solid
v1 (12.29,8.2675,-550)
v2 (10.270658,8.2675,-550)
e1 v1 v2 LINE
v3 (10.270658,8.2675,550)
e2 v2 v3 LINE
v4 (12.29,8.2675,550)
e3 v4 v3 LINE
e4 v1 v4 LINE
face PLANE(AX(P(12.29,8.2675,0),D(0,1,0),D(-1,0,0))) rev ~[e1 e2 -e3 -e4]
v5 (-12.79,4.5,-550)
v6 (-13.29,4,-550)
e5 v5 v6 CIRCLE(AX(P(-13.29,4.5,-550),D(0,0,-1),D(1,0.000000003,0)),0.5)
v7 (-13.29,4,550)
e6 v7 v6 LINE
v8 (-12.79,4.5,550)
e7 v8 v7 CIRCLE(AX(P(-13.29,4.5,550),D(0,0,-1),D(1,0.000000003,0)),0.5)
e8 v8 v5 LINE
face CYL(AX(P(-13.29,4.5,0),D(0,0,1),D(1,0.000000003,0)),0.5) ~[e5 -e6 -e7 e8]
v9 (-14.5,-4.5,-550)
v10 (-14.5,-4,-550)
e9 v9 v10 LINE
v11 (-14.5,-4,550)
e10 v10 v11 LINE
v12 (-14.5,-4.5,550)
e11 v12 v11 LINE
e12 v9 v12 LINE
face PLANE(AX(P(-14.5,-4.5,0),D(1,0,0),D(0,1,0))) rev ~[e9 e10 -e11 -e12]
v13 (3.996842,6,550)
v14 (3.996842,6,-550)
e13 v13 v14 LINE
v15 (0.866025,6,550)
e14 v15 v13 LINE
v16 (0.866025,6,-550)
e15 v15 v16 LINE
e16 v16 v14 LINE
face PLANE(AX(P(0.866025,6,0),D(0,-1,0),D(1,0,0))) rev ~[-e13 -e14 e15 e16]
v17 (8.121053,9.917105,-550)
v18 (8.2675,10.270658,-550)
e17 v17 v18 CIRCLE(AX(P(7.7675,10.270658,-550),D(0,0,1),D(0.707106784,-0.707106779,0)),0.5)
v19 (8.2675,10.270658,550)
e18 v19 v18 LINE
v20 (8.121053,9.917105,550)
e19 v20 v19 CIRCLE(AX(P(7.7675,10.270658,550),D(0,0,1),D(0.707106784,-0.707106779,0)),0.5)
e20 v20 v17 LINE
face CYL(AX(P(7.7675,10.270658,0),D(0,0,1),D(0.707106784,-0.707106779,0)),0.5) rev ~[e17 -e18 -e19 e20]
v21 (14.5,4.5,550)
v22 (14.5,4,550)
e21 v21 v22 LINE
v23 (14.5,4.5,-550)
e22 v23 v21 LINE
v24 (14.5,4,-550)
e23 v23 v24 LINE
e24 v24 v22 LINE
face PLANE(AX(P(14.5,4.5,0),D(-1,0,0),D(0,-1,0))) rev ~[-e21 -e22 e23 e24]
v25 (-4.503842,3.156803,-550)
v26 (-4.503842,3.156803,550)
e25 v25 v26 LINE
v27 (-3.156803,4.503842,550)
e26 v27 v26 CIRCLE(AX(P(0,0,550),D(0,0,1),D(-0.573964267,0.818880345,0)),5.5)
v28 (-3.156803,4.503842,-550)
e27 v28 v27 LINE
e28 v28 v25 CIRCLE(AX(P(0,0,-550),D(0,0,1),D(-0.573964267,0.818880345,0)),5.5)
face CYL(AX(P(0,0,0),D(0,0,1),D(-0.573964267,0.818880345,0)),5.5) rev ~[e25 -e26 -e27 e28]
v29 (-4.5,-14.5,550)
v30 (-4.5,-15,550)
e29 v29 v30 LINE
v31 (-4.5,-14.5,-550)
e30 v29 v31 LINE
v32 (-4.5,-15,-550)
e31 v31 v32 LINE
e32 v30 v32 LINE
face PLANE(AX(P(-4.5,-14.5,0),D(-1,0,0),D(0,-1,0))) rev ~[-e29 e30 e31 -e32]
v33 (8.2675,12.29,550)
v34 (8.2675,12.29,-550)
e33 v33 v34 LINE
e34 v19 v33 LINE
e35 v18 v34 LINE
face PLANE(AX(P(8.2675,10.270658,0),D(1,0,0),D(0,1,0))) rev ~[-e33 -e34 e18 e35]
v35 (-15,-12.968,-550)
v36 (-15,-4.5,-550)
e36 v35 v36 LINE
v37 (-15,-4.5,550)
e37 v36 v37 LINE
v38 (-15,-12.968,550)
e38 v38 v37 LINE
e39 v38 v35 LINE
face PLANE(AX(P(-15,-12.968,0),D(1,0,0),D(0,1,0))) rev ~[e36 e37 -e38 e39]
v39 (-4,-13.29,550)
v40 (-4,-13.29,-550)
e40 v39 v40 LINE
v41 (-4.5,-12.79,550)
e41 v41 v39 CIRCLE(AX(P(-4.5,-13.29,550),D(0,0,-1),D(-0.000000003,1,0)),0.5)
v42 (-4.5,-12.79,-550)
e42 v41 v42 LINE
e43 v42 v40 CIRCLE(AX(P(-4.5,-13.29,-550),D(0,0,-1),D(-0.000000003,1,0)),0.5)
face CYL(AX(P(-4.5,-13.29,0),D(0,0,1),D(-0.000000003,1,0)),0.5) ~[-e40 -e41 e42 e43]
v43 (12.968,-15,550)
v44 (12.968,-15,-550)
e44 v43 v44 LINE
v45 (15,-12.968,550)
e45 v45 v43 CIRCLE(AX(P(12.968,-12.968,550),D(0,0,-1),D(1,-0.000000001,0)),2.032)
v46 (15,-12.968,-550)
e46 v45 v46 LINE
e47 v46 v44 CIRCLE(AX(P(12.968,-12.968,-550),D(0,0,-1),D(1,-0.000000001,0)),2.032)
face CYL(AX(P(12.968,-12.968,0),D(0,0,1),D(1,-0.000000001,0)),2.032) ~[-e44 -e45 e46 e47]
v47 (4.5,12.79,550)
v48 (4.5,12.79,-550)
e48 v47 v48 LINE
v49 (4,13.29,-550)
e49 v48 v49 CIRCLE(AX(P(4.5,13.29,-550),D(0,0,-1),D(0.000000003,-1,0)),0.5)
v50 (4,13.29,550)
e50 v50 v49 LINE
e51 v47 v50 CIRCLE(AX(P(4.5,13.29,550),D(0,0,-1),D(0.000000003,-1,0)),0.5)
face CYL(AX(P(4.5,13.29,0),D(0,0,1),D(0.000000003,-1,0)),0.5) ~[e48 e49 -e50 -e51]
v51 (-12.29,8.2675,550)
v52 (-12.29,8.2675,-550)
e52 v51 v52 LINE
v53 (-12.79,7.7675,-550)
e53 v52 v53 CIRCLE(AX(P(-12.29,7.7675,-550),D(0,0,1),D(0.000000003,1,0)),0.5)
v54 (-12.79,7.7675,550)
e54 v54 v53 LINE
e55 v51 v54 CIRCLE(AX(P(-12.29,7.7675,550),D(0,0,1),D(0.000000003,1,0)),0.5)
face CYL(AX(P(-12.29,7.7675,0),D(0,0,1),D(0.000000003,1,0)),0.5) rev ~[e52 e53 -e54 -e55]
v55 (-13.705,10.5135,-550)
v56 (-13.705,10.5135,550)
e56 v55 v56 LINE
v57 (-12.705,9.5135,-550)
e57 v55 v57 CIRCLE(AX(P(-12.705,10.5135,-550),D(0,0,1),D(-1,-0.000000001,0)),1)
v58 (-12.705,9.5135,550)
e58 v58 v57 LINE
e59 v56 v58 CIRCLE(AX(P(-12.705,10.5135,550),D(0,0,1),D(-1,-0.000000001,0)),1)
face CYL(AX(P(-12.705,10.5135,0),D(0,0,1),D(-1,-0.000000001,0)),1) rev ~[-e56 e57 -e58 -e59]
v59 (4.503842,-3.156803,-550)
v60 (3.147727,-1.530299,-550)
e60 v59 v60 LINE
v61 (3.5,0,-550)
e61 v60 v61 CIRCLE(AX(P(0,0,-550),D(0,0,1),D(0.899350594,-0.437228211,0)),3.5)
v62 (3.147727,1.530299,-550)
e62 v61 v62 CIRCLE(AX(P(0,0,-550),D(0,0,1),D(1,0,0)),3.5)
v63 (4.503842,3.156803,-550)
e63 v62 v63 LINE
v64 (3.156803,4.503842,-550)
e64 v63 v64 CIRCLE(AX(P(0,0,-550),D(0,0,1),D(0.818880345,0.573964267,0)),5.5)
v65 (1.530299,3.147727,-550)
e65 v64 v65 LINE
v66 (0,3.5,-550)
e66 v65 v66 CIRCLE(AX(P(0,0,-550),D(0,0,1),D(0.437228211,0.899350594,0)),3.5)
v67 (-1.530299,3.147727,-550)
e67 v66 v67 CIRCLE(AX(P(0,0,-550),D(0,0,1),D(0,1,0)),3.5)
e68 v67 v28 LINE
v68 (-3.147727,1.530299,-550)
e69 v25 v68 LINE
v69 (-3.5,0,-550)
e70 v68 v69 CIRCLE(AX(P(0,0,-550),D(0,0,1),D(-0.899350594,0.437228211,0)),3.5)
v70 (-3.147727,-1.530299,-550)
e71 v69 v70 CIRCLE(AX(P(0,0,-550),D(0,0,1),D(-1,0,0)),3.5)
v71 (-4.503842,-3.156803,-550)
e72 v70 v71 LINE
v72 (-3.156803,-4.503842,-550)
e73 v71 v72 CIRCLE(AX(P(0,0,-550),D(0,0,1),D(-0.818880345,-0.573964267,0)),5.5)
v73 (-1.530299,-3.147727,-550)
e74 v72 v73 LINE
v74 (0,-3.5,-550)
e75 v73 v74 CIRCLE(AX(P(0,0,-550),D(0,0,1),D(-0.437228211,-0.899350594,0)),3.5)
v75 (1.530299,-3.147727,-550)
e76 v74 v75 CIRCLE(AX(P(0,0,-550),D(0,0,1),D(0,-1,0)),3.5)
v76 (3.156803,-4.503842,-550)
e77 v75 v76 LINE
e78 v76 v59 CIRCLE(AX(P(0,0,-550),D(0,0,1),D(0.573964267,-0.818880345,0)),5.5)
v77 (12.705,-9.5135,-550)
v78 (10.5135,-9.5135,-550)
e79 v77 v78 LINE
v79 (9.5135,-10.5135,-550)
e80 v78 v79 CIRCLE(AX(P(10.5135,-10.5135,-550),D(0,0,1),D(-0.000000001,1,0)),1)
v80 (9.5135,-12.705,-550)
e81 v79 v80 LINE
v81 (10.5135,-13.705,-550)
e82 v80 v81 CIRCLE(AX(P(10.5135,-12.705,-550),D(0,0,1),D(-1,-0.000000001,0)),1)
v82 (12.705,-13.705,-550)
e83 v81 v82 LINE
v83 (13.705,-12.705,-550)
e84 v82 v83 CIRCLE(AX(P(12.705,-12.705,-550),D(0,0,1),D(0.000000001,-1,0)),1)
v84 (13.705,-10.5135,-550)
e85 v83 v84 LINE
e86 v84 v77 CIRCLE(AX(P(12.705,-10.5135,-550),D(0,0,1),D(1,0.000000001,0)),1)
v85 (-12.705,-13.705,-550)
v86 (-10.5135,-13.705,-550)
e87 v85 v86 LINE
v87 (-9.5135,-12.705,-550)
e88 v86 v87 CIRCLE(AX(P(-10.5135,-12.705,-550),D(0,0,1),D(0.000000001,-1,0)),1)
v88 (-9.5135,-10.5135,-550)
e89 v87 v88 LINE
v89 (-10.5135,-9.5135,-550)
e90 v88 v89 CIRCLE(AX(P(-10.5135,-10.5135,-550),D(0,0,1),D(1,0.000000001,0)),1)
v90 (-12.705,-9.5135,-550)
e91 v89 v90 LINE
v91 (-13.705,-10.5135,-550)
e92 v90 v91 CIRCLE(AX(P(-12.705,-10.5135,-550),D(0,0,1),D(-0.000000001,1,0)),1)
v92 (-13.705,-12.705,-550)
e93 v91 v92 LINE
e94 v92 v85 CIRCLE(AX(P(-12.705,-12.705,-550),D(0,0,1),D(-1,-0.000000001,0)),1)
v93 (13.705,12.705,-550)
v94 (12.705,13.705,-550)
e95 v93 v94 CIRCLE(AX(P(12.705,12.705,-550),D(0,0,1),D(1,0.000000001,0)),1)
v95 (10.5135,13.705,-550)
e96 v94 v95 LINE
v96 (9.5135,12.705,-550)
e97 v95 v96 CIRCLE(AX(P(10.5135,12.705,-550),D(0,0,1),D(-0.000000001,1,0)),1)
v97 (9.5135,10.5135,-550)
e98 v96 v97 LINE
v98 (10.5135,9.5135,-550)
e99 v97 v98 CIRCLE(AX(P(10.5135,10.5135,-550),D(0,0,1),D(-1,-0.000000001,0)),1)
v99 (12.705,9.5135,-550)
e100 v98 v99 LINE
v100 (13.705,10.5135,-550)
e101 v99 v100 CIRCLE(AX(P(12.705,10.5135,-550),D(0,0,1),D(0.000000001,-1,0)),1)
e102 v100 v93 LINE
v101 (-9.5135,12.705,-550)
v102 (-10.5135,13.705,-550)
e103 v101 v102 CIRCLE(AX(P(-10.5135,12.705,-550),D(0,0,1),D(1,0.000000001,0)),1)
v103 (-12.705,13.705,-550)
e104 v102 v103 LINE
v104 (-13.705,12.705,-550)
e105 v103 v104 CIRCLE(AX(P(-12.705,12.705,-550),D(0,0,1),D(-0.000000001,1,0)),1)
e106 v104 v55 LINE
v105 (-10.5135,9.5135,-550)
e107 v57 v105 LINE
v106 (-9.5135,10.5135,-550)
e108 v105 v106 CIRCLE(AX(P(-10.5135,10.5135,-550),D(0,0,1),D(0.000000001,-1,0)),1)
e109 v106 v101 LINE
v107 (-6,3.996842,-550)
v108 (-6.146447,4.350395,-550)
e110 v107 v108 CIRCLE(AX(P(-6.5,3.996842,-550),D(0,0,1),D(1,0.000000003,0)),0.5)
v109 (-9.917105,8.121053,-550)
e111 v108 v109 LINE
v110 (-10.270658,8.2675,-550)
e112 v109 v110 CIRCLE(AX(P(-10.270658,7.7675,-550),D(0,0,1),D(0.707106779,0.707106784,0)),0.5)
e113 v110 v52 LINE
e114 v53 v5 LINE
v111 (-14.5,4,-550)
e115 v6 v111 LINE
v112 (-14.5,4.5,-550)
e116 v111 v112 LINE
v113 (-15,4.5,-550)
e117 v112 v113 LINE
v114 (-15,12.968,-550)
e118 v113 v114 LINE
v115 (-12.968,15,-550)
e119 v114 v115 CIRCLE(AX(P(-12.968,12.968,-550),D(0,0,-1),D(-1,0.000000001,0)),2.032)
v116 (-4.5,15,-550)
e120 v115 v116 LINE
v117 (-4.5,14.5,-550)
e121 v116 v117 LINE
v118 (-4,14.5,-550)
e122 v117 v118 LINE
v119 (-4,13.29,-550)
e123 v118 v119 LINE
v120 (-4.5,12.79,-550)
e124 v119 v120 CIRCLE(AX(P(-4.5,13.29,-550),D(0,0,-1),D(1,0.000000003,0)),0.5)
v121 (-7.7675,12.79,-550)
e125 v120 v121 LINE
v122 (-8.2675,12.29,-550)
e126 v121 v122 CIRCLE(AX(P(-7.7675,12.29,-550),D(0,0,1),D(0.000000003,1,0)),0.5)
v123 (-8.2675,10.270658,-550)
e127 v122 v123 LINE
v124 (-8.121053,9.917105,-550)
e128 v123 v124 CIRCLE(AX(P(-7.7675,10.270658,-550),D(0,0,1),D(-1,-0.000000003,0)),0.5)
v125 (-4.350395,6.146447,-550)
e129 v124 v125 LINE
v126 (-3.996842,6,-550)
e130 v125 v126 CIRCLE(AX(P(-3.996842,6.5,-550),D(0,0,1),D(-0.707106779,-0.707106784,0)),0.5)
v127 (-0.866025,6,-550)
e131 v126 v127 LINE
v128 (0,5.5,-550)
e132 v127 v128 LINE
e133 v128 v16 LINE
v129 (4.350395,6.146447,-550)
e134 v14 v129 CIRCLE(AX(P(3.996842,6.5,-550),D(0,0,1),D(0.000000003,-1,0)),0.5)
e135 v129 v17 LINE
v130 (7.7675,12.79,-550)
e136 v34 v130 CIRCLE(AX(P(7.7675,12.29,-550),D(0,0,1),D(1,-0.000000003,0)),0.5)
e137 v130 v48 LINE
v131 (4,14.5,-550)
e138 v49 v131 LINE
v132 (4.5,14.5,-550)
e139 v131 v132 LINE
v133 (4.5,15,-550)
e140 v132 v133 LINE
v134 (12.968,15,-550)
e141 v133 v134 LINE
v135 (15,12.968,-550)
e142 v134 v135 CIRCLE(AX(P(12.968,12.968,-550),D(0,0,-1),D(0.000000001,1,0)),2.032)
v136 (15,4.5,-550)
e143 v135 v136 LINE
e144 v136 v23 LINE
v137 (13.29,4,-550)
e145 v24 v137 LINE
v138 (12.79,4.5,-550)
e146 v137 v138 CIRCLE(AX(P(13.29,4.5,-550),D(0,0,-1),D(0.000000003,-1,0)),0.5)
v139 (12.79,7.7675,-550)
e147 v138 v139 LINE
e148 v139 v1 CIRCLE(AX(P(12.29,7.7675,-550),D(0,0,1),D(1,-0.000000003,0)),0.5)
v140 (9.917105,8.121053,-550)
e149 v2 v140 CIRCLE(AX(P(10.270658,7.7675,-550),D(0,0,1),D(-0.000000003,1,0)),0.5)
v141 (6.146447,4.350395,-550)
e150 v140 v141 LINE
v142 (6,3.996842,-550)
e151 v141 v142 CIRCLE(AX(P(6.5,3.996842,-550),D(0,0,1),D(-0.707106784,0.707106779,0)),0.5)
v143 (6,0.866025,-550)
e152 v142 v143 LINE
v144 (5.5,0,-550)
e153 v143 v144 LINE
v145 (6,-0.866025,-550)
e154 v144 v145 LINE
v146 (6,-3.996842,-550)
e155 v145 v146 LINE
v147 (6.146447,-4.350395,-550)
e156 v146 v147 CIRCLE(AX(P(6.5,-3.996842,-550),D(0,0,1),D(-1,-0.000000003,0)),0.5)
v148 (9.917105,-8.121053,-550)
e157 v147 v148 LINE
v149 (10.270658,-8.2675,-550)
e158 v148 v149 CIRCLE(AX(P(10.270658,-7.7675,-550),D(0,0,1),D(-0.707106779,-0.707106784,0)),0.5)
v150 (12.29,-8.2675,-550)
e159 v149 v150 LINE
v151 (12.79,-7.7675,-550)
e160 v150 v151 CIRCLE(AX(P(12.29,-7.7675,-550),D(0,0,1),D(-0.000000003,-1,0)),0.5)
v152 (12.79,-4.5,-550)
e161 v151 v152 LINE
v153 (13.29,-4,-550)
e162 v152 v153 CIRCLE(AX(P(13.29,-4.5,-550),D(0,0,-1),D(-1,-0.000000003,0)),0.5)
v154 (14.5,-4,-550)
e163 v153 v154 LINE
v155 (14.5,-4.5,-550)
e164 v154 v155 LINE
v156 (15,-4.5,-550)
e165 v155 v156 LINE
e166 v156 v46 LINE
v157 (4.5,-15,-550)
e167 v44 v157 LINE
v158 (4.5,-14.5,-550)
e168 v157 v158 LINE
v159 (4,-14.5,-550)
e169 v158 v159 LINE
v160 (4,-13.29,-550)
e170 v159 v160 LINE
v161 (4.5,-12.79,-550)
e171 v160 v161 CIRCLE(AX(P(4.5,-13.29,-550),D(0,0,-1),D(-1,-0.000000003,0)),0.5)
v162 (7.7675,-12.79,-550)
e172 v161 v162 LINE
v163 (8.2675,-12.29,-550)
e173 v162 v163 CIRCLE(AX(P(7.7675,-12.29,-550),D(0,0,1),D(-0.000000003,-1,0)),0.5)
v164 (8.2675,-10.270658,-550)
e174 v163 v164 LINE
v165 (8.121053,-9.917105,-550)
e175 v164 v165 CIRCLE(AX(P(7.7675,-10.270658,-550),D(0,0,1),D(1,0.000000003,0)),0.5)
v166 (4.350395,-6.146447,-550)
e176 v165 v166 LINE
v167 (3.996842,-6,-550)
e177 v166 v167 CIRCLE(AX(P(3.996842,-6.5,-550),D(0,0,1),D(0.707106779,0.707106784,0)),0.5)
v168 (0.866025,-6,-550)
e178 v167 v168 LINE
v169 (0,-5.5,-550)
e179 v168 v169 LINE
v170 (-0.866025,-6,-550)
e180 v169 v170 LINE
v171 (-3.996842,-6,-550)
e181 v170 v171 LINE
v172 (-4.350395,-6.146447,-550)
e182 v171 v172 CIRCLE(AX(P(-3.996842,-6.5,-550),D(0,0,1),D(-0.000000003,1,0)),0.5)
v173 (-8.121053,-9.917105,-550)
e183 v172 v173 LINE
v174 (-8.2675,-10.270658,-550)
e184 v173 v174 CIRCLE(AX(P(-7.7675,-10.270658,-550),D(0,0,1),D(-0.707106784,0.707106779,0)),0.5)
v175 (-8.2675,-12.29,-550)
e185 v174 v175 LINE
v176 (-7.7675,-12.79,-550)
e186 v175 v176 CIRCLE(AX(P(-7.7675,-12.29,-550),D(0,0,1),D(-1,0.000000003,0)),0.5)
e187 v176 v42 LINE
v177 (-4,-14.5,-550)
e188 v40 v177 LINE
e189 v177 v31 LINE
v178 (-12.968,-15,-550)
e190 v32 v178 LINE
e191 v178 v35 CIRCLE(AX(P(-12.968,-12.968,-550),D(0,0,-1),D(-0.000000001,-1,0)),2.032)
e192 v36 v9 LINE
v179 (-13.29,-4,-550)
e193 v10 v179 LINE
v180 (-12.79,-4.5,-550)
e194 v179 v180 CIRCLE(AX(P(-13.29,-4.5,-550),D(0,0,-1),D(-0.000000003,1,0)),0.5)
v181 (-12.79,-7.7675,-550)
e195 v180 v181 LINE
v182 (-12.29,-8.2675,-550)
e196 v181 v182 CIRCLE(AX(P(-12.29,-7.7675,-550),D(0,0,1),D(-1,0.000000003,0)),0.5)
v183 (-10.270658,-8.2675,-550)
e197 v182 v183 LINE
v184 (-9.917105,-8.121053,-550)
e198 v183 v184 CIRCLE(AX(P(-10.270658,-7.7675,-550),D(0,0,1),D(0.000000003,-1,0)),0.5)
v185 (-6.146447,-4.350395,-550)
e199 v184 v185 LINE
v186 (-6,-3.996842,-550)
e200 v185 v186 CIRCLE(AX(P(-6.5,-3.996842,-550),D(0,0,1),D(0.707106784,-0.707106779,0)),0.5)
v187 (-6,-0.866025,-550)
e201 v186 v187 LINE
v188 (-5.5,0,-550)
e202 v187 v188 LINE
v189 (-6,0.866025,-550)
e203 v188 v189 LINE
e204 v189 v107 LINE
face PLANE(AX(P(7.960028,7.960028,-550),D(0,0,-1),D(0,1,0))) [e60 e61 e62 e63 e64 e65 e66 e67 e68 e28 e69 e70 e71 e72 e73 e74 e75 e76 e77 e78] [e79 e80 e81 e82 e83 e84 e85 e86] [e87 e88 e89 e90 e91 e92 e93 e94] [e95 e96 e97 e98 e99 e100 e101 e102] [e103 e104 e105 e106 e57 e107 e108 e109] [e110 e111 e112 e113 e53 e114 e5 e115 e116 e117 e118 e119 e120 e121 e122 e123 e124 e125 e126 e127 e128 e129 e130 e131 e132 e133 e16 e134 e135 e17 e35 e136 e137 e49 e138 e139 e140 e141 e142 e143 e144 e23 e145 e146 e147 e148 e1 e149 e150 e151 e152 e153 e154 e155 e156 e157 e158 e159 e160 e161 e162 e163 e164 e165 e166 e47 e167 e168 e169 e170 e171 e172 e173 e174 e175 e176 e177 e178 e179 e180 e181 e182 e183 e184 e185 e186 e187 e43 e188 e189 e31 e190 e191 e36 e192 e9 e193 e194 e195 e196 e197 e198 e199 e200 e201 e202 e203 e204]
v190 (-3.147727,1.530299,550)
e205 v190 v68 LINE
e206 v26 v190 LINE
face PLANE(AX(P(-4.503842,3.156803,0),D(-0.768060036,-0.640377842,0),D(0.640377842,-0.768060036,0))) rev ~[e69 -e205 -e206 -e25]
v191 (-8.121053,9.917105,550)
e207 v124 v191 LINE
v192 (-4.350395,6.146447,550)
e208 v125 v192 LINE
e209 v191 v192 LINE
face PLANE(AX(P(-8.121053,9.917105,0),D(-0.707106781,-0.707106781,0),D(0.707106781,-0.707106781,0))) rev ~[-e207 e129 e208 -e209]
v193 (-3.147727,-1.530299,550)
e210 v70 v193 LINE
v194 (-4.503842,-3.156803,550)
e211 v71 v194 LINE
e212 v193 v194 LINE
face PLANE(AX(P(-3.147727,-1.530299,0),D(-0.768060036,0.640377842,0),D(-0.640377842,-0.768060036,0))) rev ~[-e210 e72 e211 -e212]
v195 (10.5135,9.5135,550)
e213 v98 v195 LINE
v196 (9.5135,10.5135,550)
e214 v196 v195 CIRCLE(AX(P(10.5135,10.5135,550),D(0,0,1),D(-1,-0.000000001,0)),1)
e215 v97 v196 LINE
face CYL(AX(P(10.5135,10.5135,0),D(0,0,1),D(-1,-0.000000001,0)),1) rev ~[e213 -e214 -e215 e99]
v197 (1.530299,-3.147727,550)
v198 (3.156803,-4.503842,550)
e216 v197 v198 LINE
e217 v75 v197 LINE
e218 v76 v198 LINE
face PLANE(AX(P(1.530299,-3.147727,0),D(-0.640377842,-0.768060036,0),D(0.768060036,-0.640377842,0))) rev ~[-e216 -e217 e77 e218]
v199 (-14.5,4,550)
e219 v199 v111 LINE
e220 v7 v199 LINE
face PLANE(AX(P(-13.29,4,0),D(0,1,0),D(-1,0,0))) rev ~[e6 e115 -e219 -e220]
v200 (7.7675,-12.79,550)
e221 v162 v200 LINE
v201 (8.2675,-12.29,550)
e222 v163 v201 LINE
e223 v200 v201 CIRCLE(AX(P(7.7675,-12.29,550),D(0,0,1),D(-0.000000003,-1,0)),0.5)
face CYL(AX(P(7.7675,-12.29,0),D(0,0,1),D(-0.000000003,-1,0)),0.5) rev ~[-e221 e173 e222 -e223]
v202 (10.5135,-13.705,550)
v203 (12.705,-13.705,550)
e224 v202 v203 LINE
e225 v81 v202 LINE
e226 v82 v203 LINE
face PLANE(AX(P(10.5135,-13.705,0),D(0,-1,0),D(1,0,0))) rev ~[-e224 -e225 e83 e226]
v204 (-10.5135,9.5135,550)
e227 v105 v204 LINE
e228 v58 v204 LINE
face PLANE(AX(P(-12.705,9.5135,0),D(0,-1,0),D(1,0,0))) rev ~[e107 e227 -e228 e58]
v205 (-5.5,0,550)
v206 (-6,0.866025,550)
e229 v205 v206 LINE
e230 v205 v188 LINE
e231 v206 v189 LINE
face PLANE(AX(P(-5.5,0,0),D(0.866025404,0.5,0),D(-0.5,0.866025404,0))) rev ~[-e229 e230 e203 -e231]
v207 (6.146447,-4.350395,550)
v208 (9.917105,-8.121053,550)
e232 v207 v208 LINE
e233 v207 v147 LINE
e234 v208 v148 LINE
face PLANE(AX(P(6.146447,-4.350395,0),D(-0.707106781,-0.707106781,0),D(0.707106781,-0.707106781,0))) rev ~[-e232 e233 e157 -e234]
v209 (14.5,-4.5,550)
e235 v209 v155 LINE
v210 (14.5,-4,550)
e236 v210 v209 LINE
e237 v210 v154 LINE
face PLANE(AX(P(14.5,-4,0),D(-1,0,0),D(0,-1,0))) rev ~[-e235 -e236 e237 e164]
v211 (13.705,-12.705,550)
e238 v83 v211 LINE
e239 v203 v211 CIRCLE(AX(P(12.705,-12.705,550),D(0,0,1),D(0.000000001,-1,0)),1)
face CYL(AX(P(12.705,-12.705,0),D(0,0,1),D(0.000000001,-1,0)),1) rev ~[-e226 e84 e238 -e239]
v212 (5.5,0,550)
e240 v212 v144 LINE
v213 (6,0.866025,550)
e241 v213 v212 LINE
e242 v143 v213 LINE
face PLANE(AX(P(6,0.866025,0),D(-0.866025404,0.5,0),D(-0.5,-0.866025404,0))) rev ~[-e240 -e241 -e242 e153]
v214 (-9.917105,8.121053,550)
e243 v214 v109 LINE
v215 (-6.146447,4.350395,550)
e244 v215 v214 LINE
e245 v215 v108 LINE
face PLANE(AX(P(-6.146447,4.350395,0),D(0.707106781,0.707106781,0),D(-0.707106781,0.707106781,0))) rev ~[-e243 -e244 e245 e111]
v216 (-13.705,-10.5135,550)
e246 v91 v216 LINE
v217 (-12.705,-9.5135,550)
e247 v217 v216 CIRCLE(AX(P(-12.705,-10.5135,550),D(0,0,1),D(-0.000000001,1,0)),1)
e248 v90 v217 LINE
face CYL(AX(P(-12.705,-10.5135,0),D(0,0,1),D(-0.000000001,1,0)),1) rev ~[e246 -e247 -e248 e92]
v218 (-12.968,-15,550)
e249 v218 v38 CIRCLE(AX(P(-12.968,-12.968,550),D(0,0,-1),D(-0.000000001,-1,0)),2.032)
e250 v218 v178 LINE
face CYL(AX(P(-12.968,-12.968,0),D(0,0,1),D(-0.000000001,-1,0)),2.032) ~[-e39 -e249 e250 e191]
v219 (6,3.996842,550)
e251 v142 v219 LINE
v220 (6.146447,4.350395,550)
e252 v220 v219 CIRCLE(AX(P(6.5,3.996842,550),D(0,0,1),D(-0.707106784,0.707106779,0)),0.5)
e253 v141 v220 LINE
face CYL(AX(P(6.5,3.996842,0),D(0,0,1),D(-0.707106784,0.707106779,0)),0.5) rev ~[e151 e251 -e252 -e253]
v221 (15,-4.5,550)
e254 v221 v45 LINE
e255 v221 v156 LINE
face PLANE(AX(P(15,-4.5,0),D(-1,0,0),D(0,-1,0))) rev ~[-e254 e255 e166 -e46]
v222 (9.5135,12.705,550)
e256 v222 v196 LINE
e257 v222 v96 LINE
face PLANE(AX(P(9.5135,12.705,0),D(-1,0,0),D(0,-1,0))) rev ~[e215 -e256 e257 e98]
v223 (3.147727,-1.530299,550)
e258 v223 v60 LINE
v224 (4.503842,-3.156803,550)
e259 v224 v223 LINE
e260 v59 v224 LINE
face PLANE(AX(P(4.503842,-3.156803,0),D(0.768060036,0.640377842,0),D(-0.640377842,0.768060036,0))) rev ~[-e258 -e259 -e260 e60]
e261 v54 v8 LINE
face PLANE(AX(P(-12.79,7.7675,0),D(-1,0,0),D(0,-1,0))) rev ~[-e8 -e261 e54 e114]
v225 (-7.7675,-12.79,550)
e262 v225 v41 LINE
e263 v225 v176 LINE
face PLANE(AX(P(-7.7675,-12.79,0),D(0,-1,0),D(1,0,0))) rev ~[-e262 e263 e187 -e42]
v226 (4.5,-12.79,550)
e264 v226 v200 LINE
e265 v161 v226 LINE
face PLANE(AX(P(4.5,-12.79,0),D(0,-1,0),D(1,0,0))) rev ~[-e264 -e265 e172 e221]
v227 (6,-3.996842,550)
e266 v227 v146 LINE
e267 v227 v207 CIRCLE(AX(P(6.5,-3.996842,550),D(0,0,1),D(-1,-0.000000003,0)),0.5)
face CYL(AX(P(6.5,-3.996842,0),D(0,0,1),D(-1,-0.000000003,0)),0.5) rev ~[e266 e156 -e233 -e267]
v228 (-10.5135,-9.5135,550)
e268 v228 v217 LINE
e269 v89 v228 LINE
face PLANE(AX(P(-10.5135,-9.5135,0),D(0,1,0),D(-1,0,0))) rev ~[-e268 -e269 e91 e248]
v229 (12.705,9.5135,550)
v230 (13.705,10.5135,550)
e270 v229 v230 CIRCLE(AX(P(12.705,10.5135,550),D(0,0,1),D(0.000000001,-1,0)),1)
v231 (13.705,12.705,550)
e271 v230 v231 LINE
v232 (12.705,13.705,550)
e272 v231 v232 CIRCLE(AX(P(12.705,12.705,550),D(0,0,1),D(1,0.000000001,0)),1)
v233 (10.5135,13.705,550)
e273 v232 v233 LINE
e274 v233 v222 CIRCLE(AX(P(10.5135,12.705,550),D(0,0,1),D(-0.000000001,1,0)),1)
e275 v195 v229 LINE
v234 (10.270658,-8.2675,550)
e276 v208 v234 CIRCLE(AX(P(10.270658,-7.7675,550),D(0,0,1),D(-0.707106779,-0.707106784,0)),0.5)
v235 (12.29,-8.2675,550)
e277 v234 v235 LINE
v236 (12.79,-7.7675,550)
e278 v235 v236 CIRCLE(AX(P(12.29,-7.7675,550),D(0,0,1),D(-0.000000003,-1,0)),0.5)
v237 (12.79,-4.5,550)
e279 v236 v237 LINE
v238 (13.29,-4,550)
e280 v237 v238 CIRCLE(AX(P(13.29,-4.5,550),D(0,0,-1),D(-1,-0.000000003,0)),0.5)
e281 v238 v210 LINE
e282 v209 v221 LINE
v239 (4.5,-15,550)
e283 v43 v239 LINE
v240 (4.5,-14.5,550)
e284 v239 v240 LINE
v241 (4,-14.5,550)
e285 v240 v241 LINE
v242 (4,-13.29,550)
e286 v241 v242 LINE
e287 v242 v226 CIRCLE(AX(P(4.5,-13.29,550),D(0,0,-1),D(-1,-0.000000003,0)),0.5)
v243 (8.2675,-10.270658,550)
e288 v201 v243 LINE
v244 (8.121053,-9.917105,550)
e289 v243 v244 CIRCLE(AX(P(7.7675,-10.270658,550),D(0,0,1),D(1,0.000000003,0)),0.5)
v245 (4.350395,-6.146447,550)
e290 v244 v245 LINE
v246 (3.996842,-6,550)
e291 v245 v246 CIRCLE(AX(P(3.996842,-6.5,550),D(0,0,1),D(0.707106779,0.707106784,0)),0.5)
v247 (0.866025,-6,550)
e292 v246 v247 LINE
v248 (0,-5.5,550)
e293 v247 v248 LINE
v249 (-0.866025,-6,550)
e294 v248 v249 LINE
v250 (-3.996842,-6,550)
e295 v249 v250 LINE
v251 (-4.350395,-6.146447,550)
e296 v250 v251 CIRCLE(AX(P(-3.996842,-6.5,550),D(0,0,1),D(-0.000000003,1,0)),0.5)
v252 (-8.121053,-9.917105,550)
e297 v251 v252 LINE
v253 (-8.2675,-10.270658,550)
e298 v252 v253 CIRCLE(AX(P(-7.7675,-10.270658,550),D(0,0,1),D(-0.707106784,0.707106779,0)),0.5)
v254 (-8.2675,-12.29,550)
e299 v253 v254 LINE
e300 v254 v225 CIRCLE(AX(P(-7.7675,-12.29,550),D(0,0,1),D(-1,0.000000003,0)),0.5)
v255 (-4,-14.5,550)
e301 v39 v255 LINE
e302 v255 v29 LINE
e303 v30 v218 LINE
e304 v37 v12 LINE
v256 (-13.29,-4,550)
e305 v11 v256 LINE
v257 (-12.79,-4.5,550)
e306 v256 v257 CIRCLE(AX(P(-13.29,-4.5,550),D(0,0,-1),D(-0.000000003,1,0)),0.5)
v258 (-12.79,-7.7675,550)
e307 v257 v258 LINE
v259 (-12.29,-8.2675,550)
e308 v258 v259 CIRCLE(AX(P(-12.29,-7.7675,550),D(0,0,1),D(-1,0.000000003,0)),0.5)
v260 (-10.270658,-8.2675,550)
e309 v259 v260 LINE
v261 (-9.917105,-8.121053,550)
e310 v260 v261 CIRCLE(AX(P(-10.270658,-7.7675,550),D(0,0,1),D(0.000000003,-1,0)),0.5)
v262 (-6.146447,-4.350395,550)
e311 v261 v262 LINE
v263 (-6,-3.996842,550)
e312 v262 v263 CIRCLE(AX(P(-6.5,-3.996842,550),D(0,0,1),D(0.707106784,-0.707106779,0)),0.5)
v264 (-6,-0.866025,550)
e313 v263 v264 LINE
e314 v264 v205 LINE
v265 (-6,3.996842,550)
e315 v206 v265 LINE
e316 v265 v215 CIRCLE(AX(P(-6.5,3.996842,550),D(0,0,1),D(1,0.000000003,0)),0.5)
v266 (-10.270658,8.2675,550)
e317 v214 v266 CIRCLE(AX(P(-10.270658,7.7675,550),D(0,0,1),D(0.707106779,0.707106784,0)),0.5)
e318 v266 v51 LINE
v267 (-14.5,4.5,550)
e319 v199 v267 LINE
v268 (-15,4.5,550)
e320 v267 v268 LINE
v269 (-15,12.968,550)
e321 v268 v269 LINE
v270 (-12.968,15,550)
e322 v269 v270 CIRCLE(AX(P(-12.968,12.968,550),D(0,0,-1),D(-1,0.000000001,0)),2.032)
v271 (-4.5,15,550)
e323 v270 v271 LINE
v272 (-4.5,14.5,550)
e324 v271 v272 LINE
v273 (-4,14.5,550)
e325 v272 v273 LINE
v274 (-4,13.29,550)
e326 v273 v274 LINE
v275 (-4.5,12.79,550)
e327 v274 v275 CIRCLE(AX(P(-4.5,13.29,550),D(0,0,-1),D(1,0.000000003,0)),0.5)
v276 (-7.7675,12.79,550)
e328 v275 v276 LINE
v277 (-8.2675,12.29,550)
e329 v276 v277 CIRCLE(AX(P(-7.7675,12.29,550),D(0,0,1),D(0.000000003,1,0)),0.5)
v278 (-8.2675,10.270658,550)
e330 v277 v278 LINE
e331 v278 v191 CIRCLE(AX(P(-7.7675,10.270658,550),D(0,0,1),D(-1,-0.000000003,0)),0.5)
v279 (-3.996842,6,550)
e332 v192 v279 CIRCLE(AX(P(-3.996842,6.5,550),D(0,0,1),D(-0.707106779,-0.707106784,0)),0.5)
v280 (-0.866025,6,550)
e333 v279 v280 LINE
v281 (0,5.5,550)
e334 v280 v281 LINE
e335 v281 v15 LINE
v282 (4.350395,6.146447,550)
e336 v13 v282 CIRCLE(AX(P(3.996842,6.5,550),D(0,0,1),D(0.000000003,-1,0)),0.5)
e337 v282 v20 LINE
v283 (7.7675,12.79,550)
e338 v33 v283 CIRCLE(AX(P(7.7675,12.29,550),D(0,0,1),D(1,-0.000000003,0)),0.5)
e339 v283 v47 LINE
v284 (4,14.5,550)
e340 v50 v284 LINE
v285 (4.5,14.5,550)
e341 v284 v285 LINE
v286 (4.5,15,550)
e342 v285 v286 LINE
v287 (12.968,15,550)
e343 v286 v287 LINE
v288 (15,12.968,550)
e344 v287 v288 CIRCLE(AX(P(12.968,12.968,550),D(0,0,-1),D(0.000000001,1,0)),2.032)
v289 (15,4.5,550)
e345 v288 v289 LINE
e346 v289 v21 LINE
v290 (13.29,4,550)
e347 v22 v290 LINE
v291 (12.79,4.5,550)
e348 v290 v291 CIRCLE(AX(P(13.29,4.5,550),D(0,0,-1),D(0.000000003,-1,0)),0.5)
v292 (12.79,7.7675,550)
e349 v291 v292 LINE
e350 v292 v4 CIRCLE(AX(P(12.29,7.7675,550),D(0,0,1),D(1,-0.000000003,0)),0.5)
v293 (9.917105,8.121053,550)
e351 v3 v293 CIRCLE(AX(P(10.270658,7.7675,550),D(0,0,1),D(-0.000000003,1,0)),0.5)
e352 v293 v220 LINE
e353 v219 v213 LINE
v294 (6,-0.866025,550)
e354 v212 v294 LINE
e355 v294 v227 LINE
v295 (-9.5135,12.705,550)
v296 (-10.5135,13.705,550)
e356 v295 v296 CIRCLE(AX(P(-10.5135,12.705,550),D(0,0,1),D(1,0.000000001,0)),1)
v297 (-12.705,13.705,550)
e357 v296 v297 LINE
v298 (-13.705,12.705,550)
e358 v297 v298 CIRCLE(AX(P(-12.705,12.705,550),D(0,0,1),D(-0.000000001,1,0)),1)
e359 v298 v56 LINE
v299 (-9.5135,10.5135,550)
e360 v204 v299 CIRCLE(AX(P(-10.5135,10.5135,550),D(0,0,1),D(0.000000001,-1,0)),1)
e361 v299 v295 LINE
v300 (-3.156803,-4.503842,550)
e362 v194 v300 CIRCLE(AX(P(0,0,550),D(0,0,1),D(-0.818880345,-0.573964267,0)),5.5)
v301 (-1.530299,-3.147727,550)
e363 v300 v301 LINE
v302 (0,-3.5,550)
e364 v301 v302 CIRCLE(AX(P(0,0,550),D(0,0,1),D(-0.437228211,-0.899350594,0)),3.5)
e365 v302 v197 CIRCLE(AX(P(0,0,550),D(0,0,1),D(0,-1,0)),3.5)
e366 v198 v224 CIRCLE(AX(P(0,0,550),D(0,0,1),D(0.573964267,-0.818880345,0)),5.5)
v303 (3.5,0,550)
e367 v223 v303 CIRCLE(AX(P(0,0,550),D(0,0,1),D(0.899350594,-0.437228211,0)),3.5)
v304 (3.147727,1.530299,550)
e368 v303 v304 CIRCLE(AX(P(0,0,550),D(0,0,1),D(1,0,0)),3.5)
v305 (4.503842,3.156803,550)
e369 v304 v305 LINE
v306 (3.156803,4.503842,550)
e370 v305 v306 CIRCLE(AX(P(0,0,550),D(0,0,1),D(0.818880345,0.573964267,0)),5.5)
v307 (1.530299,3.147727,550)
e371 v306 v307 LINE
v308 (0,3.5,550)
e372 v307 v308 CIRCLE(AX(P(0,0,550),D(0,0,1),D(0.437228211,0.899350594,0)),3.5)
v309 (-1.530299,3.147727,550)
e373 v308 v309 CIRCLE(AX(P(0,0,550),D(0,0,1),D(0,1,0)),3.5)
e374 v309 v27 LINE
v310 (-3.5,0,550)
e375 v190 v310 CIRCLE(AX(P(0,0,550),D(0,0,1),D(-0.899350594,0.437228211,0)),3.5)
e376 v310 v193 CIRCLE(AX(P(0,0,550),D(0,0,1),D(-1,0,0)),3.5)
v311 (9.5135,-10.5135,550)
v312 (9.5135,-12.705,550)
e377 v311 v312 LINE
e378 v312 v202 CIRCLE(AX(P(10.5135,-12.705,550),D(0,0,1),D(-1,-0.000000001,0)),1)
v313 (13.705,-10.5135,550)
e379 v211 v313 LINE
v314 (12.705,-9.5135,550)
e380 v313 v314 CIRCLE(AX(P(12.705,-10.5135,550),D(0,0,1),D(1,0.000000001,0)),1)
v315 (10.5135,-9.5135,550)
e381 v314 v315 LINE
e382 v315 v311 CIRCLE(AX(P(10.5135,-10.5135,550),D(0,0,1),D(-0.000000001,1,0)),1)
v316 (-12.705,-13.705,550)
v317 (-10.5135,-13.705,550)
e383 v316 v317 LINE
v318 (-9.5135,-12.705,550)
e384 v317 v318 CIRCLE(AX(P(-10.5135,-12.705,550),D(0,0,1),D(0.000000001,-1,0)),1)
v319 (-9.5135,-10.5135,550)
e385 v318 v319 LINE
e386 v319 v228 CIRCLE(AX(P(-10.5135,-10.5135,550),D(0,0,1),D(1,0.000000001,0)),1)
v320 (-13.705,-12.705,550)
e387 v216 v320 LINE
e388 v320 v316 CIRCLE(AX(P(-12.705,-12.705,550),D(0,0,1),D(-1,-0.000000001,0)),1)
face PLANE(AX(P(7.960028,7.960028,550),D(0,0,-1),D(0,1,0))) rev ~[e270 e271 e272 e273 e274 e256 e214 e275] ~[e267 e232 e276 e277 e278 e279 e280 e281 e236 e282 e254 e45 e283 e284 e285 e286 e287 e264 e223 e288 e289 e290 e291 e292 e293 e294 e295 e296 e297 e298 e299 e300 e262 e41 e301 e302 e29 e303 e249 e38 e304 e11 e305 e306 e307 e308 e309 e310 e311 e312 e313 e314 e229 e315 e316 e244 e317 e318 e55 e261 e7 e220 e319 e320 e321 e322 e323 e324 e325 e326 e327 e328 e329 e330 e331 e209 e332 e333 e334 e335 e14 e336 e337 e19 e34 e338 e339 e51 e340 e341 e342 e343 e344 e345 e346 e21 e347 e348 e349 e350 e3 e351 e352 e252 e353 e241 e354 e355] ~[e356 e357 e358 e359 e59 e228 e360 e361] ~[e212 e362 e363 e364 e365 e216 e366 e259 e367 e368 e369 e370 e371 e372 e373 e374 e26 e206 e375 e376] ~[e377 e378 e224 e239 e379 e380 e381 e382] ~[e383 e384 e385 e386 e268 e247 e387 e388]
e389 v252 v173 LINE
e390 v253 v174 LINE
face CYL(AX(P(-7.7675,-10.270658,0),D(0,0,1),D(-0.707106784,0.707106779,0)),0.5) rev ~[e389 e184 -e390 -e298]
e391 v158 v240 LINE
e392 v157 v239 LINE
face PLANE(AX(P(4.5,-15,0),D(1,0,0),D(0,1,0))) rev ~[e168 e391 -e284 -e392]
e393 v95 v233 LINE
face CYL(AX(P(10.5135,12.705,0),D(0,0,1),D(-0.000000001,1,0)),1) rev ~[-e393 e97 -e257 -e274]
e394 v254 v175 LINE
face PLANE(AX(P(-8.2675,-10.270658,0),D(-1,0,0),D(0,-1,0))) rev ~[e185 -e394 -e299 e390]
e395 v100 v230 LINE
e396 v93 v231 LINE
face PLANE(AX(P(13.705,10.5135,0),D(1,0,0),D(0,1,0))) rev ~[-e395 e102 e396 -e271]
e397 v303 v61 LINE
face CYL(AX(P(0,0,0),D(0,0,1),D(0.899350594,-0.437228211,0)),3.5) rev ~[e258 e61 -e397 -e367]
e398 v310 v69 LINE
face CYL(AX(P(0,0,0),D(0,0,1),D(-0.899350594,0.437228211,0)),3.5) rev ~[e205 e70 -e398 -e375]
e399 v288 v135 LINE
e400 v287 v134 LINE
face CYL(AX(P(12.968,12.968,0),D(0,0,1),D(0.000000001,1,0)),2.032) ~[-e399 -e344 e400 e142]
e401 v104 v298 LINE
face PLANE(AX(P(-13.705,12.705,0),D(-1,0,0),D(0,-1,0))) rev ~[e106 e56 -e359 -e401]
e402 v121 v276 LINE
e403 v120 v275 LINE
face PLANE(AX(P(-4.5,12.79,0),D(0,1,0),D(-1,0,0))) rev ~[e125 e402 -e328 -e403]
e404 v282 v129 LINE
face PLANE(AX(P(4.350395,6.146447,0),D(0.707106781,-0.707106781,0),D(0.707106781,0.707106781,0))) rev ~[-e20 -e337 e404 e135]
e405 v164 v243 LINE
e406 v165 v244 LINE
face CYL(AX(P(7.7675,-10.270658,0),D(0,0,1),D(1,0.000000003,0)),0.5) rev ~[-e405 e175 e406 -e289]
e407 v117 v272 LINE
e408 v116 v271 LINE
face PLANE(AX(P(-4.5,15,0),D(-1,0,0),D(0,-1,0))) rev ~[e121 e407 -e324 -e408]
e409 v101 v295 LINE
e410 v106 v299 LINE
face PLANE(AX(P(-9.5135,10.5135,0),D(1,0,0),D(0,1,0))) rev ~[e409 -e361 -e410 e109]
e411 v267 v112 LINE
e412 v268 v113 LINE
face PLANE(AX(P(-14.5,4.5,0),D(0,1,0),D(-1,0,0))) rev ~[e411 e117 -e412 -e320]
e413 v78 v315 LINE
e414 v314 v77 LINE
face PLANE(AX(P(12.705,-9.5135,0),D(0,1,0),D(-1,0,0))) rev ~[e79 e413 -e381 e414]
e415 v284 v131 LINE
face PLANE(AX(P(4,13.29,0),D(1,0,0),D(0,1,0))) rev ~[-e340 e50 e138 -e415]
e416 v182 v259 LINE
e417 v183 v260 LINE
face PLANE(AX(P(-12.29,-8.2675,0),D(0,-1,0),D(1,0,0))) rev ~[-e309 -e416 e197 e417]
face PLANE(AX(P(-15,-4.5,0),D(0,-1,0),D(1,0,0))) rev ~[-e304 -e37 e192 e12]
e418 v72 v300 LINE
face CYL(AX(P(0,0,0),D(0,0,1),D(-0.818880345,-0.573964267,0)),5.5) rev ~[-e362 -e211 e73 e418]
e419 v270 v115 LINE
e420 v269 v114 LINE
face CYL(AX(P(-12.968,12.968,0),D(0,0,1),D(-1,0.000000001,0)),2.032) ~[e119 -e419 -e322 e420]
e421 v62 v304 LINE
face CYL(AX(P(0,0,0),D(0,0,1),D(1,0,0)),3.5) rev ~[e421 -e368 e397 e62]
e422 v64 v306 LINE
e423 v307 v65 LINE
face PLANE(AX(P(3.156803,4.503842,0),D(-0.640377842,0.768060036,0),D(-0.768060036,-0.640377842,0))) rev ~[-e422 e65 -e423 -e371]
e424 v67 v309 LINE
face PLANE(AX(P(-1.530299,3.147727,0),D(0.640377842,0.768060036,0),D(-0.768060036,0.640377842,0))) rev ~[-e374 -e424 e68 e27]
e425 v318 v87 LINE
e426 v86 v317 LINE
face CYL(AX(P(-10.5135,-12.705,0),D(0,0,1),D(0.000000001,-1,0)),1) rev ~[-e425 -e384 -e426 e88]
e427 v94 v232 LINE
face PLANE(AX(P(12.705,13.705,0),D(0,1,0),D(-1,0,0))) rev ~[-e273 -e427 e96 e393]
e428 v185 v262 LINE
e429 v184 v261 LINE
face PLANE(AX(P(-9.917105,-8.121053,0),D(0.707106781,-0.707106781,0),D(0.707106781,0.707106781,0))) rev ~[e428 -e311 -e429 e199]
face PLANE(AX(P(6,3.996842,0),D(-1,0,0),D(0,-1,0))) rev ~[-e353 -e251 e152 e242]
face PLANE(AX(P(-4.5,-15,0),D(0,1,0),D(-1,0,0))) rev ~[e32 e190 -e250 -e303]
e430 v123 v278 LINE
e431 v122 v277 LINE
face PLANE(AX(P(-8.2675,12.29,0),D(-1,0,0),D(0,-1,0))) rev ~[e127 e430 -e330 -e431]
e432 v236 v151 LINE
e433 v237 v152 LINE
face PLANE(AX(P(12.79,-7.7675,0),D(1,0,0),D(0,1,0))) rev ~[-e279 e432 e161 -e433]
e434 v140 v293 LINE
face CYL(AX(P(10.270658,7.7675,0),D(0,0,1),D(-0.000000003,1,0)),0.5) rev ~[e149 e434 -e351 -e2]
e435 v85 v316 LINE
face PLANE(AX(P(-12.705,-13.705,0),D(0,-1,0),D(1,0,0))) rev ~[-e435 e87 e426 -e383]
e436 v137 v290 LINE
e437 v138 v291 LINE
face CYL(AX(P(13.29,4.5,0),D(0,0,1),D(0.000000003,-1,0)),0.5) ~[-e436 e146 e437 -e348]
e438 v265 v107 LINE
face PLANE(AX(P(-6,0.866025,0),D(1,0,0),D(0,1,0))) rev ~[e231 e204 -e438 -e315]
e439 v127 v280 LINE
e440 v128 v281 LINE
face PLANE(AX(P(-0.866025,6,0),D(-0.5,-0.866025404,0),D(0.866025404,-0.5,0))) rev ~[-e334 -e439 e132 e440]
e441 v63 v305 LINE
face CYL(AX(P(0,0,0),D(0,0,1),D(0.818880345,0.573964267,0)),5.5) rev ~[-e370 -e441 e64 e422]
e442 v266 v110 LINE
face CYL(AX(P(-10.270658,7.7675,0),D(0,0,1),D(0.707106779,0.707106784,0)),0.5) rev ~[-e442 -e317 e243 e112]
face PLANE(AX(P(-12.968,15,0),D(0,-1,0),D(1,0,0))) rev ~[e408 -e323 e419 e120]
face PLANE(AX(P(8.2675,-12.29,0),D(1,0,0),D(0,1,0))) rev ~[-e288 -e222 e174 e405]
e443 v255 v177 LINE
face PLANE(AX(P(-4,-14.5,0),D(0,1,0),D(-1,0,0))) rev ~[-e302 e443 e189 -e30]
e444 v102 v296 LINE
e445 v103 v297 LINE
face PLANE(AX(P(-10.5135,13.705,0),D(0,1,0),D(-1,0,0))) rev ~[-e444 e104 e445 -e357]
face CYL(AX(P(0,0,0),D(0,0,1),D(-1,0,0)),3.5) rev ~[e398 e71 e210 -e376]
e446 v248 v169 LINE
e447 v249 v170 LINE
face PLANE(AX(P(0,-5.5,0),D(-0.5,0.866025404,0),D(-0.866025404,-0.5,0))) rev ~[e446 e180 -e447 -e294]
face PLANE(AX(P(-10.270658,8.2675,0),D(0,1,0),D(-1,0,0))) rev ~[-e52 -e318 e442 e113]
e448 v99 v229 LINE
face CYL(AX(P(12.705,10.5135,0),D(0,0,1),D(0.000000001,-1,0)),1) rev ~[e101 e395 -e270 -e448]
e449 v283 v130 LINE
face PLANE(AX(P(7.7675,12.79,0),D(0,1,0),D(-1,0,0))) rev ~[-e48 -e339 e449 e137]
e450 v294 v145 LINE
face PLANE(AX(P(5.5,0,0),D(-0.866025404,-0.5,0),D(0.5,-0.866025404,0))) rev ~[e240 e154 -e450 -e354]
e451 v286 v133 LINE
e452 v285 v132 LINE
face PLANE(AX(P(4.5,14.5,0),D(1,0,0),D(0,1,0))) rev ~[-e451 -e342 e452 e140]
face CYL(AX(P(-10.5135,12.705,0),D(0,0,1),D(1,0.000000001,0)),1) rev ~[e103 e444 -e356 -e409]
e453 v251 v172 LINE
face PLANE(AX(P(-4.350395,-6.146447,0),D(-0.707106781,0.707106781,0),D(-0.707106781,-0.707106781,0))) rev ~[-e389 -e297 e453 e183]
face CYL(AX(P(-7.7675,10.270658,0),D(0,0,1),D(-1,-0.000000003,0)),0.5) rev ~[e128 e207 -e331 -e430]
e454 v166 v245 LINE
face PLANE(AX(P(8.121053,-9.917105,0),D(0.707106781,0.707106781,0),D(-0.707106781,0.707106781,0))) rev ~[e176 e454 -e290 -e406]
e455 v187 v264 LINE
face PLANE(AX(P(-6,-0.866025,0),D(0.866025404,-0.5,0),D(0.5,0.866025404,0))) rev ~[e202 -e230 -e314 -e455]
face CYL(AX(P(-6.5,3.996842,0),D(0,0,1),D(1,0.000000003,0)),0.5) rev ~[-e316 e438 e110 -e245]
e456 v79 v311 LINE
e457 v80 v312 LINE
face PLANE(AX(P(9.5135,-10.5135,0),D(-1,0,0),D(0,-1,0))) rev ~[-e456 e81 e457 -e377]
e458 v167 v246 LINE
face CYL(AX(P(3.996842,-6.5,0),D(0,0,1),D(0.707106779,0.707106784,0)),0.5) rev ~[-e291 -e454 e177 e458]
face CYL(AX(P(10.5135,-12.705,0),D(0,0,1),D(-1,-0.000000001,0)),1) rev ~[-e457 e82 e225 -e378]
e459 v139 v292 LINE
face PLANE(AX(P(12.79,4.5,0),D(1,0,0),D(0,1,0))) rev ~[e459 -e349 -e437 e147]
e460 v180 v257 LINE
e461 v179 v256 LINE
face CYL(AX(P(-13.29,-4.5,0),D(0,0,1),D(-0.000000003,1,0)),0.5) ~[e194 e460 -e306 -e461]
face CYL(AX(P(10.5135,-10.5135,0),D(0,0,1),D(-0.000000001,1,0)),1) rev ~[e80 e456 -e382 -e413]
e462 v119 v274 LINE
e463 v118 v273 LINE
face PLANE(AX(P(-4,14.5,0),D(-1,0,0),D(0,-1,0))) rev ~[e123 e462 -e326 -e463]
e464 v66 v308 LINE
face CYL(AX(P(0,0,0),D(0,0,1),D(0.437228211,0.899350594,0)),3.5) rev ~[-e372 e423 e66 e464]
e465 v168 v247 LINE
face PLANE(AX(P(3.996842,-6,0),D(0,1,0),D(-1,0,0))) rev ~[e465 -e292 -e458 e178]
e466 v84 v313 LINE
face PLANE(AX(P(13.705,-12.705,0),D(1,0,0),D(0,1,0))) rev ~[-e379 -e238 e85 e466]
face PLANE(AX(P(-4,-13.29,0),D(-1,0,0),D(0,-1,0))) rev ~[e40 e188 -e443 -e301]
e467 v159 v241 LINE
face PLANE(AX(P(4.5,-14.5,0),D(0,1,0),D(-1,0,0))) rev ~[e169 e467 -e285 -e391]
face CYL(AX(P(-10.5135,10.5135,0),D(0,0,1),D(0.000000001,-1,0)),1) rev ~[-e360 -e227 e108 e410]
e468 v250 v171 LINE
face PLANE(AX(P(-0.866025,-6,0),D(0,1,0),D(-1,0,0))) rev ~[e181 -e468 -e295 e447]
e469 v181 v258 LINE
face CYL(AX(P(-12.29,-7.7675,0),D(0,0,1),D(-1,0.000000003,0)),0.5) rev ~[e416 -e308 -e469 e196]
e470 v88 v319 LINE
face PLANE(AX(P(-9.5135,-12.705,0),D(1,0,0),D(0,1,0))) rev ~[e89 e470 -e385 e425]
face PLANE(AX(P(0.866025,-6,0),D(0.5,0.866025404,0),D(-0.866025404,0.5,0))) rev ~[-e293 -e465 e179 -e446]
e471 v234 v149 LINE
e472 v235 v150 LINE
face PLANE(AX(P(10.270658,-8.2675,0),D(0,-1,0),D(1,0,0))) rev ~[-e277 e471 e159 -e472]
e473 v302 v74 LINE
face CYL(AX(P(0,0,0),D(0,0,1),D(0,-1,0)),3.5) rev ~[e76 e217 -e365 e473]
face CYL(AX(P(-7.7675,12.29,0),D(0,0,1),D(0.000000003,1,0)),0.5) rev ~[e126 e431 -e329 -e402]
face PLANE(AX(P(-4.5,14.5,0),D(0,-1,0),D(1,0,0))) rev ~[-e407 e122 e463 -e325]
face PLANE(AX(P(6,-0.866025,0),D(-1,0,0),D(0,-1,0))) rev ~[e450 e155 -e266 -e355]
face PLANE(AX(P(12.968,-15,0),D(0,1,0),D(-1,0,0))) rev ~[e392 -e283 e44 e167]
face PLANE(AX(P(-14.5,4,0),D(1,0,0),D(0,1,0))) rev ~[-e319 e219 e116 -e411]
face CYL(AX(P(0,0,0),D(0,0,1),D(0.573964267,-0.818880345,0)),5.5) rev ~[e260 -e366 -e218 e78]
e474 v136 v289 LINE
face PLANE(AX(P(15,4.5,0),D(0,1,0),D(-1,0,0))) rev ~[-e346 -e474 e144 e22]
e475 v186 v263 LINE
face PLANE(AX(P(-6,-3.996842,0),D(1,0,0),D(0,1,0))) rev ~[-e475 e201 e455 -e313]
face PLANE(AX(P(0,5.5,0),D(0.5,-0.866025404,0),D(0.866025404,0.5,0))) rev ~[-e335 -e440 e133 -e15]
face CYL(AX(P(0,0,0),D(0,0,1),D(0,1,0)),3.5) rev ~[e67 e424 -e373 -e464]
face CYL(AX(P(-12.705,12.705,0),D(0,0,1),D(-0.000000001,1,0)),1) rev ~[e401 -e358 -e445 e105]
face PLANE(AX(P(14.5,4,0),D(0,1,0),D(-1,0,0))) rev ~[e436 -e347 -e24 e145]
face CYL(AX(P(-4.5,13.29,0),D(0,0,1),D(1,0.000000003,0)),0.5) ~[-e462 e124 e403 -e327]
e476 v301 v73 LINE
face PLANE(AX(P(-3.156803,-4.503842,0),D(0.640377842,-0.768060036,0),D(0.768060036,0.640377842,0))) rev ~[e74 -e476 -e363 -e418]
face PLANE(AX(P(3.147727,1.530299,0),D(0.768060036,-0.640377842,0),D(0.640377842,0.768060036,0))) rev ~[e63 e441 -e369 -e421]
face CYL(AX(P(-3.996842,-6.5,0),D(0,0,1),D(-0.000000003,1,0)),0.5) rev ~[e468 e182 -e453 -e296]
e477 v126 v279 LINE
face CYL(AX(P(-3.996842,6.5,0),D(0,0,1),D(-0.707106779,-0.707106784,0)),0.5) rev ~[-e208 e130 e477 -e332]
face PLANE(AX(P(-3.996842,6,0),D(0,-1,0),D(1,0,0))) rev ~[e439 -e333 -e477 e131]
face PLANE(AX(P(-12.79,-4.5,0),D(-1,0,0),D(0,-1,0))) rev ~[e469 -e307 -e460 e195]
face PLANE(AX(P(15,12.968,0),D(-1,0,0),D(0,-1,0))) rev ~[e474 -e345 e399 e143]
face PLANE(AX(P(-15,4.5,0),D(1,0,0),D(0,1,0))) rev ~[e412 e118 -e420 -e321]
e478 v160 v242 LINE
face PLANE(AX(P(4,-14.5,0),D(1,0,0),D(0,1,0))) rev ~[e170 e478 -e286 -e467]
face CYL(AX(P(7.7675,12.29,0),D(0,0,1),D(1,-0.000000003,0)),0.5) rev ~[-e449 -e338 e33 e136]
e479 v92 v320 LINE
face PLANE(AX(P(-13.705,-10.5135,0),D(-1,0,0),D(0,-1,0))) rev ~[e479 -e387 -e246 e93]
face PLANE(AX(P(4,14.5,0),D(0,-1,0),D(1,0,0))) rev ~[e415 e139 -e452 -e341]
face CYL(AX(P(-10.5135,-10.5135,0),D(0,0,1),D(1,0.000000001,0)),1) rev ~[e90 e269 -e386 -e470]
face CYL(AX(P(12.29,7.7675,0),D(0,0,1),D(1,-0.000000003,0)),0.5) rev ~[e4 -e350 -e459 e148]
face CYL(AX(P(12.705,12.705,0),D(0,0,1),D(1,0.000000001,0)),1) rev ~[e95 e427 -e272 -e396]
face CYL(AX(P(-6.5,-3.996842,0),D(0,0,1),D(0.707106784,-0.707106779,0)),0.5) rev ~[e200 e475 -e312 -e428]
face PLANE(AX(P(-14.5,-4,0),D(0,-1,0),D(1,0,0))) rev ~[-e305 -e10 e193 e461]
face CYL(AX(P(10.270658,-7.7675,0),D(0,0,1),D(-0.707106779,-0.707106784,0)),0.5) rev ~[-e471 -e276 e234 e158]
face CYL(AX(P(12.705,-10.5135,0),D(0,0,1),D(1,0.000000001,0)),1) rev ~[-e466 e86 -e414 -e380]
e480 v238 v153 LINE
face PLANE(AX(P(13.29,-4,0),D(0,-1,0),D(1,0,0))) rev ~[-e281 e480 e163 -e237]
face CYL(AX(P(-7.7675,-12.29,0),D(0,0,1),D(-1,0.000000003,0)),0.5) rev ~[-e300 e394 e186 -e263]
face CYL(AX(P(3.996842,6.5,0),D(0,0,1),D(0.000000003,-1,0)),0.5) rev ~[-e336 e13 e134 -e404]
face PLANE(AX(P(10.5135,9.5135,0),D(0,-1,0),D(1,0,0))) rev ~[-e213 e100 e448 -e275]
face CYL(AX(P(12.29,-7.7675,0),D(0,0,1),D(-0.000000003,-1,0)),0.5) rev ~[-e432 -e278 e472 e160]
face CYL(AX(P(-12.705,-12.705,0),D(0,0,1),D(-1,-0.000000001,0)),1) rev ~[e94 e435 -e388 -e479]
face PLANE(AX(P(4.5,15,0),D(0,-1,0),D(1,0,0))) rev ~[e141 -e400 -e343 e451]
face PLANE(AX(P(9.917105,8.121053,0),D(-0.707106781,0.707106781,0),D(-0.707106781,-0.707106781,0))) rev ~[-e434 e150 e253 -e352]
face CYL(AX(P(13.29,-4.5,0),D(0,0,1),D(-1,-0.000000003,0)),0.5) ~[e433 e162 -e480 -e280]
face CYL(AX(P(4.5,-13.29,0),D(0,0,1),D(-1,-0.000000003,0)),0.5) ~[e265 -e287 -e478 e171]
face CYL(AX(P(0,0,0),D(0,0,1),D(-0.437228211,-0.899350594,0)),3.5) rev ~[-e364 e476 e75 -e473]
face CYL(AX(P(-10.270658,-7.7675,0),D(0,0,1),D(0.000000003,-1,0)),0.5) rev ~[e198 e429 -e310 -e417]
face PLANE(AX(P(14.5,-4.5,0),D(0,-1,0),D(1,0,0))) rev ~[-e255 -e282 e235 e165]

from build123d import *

# Parameters (mm, degrees)
BOSS_EXTRUDE1_DEPTH = 550
CIRPATTERN1_COUNT   = 4


with BuildPart() as part:
    # Sketch3 → Boss-Extrude1 (new, symmetric)
    with BuildSketch(Plane.XY):
        with BuildLine():
            Line((-4.503841895, 3.156803476), (-3.14772708, 1.530298739))
            ThreePointArc((-3.14772708, 1.530298739), (-3.410794979, 0.785160882), (-3.5, 0))
            Line((-3.5, 0), (-5.5, 0))
            Line((-5.5, 0), (-6, 0.866025404))
            Line((-6, 0.866025404), (-6, 3.996841995))
            ThreePointArc((-6, 3.996841995), (-6.038060234, 4.188183711), (-6.146446609, 4.350395385))
            Line((-6.146446609, 4.350395385), (-9.917104615, 8.121053391))
            ThreePointArc((-9.917104615, 8.121053391), (-10.079316289, 8.229439766), (-10.270658005, 8.2675))
            Line((-10.270658005, 8.2675), (-12.29, 8.2675))
            ThreePointArc((-12.29, 8.2675), (-12.643553391, 8.121053391), (-12.79, 7.7675))
            Line((-12.79, 7.7675), (-12.79, 4.5))
            ThreePointArc((-12.79, 4.5), (-12.936446609, 4.146446609), (-13.29, 4))
            Line((-13.29, 4), (-14.5, 4))
            Line((-14.5, 4), (-14.5, 4.5))
            Line((-14.5, 4.5), (-15, 4.5))
            Line((-15, 4.5), (-15, 12.968))
            ThreePointArc((-15, 12.968), (-14.404840979, 14.404840979), (-12.968, 15))
            Line((-12.968, 15), (-4.5, 15))
            Line((-4.5, 15), (-4.5, 14.5))
            Line((-4.5, 14.5), (-4, 14.5))
            Line((-4, 14.5), (-4, 13.29))
            ThreePointArc((-4, 13.29), (-4.146446609, 12.936446609), (-4.5, 12.79))
            Line((-4.5, 12.79), (-7.7675, 12.79))
            ThreePointArc((-7.7675, 12.79), (-8.121053391, 12.643553391), (-8.2675, 12.29))
            Line((-8.2675, 12.29), (-8.2675, 10.270658005))
            ThreePointArc((-8.2675, 10.270658005), (-8.229439766, 10.079316289), (-8.121053391, 9.917104615))
            Line((-8.121053391, 9.917104615), (-4.350395385, 6.146446609))
            ThreePointArc((-4.350395385, 6.146446609), (-4.188183711, 6.038060234), (-3.996841995, 6))
            Line((-3.996841995, 6), (-0.866025404, 6))
            Line((-0.866025404, 6), (0, 5.5))
            Line((0, 5.5), (0, 3.5))
            ThreePointArc((0, 3.5), (-0.785160882, 3.410794979), (-1.530298739, 3.14772708))
            Line((-1.530298739, 3.14772708), (-3.156803476, 4.503841895))
            ThreePointArc((-3.156803476, 4.503841895), (-3.889087297, 3.889087297), (-4.503841895, 3.156803476))
        make_face()
        with BuildLine():
            Line((-12.705, 9.5135), (-10.5135, 9.5135))
            ThreePointArc((-10.5135, 9.5135), (-9.806393219, 9.806393219), (-9.5135, 10.5135))
            Line((-9.5135, 10.5135), (-9.5135, 12.705))
            ThreePointArc((-9.5135, 12.705), (-9.806393219, 13.412106781), (-10.5135, 13.705))
            Line((-10.5135, 13.705), (-12.705, 13.705))
            ThreePointArc((-12.705, 13.705), (-13.412106781, 13.412106781), (-13.705, 12.705))
            Line((-13.705, 12.705), (-13.705, 10.5135))
            ThreePointArc((-13.705, 10.5135), (-13.412106781, 9.806393219), (-12.705, 9.5135))
        make_face(mode=Mode.SUBTRACT)
    boss_extrude1 = extrude(amount=BOSS_EXTRUDE1_DEPTH, both=True)

    # CirPattern1: Boss-Extrude1 ×4 about axis
    cirpattern1_axis = Axis((0, 0, 0), (0, 0, 1))
    for i in range(1, CIRPATTERN1_COUNT):
        add(boss_extrude1.rotate(cirpattern1_axis, i * 360 / CIRPATTERN1_COUNT))


solid = part.part
